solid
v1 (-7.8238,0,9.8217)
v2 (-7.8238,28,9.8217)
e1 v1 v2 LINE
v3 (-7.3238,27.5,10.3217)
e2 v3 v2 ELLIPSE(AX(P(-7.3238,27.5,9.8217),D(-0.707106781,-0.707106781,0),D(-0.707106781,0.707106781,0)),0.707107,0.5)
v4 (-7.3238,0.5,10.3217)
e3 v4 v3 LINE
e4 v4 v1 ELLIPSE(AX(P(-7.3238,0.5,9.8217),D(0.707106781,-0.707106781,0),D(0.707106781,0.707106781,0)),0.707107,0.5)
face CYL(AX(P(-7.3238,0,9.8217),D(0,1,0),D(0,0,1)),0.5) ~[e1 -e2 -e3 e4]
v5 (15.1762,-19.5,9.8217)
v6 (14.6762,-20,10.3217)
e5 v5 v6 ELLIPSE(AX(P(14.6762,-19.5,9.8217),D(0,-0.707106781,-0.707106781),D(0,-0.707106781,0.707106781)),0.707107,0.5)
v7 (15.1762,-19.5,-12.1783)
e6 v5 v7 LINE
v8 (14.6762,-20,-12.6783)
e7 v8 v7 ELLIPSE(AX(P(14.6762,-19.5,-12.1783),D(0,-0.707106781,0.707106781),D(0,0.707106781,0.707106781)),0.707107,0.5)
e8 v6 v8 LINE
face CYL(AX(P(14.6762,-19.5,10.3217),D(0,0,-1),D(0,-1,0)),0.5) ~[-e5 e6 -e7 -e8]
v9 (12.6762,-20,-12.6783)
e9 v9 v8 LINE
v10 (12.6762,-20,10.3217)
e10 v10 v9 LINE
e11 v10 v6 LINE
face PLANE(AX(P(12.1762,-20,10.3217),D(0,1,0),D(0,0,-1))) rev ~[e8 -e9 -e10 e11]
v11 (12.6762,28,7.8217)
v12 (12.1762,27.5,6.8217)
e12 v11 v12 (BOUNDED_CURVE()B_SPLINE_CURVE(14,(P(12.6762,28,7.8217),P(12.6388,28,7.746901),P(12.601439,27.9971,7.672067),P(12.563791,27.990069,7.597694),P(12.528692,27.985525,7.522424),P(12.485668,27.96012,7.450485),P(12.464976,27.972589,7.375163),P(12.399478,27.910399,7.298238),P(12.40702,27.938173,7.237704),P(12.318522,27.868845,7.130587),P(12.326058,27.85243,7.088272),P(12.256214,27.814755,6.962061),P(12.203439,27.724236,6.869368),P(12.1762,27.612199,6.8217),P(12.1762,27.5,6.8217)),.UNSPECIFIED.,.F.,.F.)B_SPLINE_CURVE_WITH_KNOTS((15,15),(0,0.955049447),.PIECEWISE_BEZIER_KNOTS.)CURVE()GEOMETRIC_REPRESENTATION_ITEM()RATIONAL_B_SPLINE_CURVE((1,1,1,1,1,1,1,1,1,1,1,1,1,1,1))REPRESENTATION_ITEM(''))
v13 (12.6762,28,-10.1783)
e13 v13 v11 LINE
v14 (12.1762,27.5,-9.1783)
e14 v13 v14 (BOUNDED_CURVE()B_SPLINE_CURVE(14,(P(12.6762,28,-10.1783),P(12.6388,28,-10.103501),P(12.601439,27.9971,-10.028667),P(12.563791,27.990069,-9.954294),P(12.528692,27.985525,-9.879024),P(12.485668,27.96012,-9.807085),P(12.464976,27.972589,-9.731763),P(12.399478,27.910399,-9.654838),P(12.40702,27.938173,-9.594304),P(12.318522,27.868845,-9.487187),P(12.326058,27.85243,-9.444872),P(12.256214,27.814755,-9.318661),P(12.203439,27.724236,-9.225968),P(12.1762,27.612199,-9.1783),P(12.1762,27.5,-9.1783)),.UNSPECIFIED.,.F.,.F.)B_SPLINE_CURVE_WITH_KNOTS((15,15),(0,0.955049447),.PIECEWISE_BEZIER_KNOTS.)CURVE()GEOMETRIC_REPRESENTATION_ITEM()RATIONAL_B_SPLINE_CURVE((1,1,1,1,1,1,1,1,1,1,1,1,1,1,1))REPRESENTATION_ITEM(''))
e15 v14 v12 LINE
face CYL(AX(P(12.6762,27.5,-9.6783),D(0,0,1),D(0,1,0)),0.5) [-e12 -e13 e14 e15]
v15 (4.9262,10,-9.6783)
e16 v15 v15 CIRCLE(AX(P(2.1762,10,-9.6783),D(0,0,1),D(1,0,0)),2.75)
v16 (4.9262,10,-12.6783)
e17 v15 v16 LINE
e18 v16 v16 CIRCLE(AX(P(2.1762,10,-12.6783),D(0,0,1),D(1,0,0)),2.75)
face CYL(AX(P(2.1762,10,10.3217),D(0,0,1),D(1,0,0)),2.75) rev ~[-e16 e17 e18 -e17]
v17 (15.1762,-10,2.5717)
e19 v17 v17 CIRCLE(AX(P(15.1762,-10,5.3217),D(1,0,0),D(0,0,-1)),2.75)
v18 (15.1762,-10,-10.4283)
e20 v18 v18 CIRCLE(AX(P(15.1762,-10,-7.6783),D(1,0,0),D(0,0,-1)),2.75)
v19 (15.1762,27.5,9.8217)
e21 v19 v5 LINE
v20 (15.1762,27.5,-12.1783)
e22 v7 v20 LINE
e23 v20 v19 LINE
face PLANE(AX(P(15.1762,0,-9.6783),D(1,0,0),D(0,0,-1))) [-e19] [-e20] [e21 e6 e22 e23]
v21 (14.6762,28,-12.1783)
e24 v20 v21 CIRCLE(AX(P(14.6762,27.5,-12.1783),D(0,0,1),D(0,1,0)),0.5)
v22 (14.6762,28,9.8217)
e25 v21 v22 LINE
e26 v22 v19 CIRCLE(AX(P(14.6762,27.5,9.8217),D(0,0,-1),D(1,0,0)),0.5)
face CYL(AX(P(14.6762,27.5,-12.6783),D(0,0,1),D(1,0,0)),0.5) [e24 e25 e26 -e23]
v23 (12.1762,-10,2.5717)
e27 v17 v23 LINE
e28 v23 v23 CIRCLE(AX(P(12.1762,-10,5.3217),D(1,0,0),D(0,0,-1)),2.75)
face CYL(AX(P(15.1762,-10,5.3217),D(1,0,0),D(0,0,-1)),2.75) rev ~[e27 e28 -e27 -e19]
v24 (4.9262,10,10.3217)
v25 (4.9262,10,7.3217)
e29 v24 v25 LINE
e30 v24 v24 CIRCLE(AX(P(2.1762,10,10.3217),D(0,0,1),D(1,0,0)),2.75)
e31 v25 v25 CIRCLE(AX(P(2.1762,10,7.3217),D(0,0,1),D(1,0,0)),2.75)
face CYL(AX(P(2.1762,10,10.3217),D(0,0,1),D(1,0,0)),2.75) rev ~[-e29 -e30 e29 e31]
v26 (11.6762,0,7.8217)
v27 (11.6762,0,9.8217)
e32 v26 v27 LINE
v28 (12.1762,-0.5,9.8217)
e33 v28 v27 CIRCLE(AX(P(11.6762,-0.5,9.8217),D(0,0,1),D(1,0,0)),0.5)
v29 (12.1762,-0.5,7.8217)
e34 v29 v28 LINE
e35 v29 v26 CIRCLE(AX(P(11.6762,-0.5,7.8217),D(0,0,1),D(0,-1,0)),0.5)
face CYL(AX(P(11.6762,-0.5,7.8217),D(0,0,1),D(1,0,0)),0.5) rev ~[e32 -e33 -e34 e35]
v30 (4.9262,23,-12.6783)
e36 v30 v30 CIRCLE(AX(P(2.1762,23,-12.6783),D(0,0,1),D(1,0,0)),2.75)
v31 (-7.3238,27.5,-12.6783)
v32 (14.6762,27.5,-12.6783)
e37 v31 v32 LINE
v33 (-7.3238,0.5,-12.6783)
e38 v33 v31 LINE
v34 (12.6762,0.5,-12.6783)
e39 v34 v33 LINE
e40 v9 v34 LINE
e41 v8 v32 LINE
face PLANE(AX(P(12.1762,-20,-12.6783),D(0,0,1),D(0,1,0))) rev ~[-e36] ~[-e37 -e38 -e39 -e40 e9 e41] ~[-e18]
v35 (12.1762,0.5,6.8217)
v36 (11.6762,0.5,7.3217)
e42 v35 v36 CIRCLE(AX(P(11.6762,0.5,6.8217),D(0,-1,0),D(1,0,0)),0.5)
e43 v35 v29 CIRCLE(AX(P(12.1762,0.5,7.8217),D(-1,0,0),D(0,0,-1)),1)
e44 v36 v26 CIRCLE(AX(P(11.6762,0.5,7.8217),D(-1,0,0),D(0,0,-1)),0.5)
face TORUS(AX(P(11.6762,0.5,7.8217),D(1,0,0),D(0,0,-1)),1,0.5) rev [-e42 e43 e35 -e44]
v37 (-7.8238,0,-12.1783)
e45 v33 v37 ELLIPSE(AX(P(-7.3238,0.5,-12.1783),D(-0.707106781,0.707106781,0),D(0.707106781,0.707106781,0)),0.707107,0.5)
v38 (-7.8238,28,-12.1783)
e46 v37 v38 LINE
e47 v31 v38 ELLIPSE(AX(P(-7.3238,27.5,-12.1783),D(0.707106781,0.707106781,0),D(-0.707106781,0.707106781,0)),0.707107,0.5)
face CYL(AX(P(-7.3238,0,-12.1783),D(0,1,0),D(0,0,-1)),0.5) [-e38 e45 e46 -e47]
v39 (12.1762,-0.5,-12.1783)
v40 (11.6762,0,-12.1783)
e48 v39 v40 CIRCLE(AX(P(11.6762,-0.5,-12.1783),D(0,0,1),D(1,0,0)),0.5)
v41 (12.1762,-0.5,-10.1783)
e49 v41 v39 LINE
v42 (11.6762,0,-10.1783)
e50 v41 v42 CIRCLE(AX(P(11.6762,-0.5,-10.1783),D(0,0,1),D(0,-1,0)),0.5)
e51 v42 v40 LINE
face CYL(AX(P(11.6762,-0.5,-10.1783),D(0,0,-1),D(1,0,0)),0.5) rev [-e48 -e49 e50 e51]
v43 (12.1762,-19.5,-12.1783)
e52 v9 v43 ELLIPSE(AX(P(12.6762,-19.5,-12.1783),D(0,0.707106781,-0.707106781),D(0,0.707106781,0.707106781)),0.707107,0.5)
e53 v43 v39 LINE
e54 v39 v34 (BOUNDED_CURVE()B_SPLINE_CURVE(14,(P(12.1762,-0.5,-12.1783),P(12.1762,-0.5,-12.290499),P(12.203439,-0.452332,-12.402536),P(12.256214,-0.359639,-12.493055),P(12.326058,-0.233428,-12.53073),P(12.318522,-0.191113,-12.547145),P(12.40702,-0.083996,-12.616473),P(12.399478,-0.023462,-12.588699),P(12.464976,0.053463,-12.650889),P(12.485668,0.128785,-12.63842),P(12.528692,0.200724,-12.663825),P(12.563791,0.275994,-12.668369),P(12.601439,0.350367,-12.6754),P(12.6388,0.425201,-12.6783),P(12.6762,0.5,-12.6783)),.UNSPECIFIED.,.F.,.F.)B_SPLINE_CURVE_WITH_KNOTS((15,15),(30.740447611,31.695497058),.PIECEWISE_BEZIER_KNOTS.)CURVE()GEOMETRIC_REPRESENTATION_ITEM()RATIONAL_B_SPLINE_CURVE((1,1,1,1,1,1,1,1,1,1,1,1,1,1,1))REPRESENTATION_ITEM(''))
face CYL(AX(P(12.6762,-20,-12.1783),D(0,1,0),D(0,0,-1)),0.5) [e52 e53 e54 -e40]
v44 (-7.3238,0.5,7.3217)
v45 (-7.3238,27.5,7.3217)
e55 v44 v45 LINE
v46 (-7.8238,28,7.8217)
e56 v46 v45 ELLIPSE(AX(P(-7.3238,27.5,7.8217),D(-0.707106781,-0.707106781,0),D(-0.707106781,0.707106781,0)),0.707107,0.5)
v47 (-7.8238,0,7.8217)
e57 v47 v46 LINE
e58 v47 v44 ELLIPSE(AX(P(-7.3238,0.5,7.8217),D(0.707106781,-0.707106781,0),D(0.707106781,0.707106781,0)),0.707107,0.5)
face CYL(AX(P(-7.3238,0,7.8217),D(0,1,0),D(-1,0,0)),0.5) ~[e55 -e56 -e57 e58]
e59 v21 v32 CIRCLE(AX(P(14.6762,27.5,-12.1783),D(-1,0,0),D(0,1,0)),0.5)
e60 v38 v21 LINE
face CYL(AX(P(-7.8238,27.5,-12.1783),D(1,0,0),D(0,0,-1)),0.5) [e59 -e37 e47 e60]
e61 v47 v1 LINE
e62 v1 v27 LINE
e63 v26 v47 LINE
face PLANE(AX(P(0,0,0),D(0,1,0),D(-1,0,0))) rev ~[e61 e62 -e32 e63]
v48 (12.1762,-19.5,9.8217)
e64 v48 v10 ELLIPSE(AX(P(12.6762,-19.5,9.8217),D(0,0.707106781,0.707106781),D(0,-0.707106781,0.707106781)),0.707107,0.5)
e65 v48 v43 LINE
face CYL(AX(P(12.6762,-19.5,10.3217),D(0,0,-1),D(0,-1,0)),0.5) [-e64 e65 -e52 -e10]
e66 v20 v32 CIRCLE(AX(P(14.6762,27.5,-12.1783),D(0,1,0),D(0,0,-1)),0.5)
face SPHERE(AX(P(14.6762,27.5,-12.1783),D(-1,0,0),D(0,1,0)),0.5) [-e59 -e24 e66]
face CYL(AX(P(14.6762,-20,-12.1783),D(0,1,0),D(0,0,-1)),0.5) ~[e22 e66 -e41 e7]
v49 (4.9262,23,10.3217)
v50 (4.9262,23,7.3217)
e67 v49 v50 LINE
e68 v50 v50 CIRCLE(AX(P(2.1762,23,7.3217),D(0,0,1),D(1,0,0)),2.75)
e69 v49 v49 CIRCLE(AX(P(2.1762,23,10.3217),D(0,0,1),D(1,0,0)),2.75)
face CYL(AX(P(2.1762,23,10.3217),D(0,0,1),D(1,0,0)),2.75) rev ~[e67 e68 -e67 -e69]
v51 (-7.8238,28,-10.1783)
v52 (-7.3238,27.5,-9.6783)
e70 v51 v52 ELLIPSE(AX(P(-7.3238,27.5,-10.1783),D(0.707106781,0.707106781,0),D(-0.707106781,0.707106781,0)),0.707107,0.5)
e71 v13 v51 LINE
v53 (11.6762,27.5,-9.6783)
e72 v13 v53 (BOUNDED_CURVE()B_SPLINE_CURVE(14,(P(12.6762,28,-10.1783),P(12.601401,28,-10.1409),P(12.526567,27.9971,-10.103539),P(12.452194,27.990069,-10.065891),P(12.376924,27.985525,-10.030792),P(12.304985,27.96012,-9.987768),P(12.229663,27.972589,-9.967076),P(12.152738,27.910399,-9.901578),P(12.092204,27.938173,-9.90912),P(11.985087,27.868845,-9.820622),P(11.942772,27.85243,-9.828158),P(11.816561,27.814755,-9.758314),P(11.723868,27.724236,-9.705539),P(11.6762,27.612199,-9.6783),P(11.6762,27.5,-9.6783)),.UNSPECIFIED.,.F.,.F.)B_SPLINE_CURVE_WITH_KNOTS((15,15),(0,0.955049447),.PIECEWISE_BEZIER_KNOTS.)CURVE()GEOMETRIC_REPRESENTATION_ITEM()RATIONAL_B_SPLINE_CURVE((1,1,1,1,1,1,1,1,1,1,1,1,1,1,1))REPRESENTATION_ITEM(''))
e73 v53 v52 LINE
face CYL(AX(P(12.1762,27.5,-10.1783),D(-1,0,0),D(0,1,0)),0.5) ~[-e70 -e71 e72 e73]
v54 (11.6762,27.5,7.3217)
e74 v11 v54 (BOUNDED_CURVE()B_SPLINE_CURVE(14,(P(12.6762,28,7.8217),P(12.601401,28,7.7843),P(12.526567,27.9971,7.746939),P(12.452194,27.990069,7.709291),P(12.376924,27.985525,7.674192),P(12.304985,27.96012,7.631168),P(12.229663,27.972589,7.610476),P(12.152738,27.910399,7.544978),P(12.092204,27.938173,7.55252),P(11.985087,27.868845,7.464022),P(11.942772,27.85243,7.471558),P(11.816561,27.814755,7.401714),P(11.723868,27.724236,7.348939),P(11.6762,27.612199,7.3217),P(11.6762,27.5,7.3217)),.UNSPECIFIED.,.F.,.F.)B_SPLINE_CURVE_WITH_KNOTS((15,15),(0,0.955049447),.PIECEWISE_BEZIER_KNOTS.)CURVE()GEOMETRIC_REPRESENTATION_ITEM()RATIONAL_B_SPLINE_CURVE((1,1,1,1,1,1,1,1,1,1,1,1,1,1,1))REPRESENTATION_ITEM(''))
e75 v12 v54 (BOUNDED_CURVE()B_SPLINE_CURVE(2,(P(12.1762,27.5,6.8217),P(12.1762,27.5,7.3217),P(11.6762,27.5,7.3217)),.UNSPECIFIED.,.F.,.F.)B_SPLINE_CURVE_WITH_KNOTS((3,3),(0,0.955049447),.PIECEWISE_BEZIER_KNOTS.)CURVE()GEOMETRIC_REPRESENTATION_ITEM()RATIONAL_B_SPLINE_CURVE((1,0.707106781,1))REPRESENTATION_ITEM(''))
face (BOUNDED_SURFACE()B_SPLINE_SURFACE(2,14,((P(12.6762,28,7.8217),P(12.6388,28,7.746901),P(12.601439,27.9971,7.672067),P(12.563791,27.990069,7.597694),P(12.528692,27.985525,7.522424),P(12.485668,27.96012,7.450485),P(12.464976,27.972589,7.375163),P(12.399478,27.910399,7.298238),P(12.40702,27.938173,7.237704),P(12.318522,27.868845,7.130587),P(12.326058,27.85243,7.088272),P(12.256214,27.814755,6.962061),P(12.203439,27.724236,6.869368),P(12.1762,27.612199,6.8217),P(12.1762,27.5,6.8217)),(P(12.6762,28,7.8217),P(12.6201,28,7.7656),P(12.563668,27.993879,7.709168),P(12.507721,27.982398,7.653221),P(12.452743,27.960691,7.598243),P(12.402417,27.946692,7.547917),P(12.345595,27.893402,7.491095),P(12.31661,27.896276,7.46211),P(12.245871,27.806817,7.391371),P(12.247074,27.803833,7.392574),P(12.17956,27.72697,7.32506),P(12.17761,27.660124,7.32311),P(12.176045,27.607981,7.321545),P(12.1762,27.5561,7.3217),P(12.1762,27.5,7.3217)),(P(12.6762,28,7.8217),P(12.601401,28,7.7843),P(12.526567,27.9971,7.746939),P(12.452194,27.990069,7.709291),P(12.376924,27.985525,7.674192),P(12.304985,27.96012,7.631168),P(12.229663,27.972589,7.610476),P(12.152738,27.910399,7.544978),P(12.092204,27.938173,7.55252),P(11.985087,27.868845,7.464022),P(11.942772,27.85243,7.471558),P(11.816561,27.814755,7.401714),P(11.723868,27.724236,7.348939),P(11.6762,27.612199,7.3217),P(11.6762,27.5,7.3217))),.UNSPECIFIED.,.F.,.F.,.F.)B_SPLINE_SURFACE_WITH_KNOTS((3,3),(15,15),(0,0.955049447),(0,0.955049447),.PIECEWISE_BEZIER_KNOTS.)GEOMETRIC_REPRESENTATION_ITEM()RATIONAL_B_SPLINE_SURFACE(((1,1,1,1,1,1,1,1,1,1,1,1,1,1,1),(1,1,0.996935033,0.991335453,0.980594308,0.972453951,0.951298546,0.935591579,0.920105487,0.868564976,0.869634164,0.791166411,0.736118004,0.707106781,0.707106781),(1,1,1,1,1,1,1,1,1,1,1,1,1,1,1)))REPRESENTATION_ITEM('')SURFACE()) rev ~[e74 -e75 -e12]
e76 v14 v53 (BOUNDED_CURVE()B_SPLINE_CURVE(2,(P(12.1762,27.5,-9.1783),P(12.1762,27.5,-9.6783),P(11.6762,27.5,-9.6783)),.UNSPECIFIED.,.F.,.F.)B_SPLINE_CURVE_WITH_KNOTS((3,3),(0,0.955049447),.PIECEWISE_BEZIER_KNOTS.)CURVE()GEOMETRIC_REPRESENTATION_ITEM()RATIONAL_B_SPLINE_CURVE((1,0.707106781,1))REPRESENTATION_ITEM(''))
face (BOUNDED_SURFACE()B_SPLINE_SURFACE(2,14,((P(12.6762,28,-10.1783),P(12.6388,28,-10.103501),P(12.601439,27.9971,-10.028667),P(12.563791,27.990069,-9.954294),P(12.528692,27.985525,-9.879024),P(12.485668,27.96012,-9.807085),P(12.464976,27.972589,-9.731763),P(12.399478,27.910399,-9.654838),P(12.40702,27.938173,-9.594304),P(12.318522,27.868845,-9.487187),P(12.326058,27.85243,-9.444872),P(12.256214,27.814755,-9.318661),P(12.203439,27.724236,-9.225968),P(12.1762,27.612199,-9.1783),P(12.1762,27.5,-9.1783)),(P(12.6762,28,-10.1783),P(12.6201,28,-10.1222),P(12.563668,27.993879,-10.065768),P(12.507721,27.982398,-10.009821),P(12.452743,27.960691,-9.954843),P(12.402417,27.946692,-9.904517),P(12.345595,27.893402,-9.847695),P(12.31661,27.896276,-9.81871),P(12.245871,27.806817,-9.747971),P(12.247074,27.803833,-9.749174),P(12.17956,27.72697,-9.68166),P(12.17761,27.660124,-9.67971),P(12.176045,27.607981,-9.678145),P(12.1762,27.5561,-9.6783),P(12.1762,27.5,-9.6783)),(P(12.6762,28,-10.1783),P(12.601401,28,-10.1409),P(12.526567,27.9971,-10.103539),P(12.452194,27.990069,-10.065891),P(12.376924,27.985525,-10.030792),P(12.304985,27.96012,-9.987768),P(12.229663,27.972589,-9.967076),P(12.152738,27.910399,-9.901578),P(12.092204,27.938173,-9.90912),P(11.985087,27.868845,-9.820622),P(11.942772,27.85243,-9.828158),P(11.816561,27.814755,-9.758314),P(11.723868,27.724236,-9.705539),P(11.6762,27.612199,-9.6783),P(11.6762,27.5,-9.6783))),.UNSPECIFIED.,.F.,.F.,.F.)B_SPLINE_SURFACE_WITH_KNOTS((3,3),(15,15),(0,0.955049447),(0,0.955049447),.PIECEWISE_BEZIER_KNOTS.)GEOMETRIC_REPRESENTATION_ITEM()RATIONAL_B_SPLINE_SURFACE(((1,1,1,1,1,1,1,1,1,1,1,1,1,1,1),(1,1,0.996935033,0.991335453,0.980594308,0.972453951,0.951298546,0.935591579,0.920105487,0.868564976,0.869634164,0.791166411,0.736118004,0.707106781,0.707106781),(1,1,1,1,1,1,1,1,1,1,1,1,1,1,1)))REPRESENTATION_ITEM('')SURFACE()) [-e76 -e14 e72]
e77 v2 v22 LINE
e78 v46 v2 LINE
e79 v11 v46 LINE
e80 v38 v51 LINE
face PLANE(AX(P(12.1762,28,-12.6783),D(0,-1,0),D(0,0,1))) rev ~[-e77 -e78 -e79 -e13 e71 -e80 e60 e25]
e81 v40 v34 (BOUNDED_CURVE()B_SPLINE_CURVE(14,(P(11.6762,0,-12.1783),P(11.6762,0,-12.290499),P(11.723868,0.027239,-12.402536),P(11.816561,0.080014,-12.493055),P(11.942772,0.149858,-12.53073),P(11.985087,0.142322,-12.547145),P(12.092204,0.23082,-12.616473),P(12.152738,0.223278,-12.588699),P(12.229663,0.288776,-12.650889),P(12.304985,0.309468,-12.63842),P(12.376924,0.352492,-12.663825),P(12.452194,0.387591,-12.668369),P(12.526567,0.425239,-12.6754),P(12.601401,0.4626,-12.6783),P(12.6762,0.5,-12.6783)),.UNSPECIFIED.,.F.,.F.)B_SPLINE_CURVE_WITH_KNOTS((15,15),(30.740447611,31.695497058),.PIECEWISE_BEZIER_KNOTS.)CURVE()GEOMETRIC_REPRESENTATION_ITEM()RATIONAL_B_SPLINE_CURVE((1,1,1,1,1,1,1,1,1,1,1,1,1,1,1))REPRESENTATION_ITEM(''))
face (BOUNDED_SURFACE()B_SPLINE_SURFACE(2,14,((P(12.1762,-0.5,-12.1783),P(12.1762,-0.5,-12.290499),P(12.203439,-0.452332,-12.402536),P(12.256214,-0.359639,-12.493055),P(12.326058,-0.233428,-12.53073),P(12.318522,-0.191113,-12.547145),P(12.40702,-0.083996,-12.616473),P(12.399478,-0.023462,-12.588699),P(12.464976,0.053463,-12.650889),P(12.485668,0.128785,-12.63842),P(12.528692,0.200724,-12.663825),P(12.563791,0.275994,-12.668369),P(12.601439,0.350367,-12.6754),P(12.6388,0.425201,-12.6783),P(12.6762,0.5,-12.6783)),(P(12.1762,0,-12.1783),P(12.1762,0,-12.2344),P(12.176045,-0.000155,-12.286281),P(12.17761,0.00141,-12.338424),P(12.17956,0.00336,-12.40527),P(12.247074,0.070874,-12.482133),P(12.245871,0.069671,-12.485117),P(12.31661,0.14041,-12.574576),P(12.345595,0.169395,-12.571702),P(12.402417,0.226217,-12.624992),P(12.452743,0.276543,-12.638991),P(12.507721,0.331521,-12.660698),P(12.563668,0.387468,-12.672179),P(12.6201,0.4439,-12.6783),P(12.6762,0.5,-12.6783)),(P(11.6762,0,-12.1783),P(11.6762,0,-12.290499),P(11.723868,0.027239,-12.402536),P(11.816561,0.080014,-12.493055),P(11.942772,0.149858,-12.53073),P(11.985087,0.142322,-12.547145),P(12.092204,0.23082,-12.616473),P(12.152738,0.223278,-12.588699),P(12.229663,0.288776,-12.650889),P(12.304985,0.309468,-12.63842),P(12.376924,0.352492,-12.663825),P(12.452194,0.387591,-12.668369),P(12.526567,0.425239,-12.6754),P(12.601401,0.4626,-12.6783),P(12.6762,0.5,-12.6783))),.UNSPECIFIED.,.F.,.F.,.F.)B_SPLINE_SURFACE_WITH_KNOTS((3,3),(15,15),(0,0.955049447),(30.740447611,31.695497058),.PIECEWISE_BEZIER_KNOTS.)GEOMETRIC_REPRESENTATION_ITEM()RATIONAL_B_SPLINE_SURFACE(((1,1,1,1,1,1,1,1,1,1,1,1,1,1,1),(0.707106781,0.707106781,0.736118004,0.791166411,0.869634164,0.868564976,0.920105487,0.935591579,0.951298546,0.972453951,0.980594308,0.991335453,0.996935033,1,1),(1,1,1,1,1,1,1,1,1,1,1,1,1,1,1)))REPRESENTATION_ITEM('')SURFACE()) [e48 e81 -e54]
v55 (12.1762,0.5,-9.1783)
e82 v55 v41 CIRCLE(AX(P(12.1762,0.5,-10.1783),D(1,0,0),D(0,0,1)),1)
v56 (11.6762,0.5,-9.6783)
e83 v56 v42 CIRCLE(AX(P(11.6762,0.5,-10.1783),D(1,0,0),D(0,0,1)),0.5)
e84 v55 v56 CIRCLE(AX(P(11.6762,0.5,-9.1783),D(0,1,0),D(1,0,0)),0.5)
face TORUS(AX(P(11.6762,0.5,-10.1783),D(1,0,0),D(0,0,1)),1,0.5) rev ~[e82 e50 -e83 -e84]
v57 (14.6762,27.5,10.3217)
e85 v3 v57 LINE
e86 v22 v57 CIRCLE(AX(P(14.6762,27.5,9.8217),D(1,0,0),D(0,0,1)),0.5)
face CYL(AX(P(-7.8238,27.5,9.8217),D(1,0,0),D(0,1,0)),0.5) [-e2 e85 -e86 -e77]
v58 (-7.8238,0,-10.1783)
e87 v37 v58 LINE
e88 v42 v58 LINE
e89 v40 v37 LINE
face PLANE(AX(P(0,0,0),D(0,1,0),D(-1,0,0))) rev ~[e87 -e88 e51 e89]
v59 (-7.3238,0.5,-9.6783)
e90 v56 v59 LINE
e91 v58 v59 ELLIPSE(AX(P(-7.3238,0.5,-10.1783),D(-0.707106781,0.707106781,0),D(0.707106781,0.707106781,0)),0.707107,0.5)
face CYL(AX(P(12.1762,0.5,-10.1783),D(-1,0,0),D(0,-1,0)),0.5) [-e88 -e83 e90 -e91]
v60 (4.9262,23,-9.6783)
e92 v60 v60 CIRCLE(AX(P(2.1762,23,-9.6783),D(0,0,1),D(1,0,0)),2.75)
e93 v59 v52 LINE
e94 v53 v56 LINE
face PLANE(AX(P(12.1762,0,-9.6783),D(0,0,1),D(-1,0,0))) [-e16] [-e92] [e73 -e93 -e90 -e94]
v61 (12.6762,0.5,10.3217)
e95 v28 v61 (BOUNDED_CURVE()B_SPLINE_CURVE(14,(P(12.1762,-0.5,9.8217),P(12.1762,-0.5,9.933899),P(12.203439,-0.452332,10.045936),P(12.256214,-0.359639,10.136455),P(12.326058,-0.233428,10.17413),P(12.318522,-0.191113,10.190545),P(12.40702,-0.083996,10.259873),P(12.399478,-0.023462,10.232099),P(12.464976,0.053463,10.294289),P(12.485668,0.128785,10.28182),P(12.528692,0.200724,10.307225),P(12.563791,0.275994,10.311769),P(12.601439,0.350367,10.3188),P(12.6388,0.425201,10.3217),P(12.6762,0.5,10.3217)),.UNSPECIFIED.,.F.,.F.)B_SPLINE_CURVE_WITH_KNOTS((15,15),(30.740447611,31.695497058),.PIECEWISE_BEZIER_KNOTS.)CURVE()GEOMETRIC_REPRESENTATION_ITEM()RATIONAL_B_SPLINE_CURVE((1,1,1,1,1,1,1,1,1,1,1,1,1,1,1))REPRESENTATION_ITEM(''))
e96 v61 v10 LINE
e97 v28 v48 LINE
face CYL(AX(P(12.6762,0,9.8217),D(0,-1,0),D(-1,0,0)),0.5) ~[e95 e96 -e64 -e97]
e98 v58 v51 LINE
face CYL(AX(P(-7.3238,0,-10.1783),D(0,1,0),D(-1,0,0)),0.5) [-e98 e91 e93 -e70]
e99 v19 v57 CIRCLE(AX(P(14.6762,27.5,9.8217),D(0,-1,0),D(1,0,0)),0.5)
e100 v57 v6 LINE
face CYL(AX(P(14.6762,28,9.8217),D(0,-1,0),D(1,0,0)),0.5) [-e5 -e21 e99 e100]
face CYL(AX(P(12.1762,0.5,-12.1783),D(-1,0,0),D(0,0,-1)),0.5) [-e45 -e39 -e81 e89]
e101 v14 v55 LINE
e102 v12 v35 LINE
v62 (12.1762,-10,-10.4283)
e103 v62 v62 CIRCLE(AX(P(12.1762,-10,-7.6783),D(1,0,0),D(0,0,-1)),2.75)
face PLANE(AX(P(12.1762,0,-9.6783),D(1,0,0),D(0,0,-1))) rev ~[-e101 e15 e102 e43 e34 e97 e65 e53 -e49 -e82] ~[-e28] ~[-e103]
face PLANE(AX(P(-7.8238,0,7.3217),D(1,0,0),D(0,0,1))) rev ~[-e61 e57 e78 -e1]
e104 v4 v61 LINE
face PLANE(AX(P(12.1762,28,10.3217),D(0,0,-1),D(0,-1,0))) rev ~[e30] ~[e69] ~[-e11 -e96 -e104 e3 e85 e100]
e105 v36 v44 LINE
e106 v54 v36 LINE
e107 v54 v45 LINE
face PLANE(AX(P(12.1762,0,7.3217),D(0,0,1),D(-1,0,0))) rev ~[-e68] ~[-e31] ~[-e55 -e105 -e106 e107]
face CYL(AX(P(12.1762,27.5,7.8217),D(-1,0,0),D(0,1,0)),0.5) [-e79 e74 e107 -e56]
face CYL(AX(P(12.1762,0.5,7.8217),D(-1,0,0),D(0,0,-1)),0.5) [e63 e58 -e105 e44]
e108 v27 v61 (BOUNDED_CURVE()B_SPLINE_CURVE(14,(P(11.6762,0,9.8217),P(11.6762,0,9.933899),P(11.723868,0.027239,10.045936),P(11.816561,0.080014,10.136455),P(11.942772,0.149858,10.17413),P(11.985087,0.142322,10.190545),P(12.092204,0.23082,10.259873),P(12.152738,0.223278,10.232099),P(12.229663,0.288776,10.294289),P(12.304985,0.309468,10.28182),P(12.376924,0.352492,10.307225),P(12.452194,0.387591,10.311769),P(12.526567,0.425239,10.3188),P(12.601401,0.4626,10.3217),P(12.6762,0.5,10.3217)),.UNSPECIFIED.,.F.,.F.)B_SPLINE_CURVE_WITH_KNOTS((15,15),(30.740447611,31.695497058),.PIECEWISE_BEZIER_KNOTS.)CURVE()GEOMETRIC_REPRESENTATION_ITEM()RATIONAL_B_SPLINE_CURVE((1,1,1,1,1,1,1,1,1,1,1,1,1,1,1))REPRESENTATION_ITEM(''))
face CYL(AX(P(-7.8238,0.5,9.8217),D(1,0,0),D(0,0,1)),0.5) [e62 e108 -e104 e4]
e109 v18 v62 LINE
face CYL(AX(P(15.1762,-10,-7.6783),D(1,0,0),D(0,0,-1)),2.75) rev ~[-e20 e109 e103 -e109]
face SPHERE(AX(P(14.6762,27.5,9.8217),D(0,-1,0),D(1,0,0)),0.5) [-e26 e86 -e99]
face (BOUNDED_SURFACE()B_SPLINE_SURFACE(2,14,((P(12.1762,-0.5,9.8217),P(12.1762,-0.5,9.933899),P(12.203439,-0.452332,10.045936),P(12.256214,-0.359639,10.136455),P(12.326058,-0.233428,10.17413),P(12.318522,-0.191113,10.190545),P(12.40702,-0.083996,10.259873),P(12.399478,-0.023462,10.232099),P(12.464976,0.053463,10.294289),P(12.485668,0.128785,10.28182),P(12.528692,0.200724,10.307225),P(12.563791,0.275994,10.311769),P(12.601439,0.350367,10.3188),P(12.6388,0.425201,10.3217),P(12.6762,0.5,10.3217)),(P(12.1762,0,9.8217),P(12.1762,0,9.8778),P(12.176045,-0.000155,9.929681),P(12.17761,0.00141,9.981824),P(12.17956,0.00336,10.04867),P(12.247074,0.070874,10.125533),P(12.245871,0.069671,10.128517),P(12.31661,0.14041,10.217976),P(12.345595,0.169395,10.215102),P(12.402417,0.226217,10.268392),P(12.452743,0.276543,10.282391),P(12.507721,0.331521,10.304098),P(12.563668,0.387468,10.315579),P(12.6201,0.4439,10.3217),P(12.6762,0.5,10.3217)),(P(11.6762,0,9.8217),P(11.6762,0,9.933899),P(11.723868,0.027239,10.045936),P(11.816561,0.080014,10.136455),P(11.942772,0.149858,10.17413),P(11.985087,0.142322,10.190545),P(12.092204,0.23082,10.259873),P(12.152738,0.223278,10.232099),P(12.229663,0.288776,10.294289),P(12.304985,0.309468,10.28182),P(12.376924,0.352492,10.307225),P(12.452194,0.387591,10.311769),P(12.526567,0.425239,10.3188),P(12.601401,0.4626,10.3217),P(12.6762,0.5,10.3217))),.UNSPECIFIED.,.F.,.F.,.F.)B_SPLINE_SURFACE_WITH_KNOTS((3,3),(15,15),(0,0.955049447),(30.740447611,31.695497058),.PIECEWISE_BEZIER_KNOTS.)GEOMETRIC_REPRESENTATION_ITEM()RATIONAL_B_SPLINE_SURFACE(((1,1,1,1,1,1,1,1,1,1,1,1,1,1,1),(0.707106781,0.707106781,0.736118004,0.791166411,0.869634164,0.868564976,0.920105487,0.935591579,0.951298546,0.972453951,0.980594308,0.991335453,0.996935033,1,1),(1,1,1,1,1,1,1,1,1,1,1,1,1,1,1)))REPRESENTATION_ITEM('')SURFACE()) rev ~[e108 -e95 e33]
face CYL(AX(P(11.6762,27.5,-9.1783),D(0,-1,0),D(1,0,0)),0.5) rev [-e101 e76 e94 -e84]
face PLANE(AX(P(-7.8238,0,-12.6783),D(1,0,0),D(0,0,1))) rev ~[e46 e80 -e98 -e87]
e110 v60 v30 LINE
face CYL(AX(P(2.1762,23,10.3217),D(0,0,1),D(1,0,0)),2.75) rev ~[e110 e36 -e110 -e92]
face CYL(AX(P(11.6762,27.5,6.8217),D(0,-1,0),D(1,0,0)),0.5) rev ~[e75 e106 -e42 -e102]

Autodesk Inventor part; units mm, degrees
ref_plane "YZ Plane" through (0, 0, 0) normal (1, 0, 0) x (0, 1, 0)
ref_plane "XZ Plane" through (0, 0, 0) normal (0, 1, 0) x (-1, 0, 0)
ref_plane "XY Plane" through (0, 0, 0) normal (0, 0, 1) x (1, 0, 0)
sketch "Sketch1" plane through (0, 0, 0) normal (0, 1, 0) x (-1, 0, 0)
  line L0 (7.8238, 10.3217) -> (-12.1762, 10.3217)
  line L1 (-12.1762, 10.3217) -> (-12.1762, -12.6783)
  line L2 (-12.1762, -12.6783) -> (7.8238, -12.6783)
  line L3 (7.8238, -12.6783) -> (7.8238, 10.3217)
  line L4 (7.8238, 10.3217) -> (-12.1762, 10.3217)
  line L5 (-12.1762, 10.3217) -> (-12.1762, 7.3217)
  line L6 (-12.1762, 7.3217) -> (7.8238, 7.3217)
  line L7 (7.8238, 7.3217) -> (7.8238, 10.3217)
  line L8 (7.8238, -12.6783) -> (-12.1762, -12.6783)
  line L9 (-12.1762, -12.6783) -> (-12.1762, -9.6783)
  line L10 (-12.1762, -9.6783) -> (7.8238, -9.6783)
  line L11 (7.8238, -9.6783) -> (7.8238, -12.6783)
  point P0 (0, 0)
  dimension "d0" = 23
  dimension "d1" = 20
  dimension "d2" = 3
  dimension "d3" = 3
extrude "Extrusion1" add sketch "Sketch1" along normal blind 28 contours L3 L6 L1 L0 | L3 L2 L1 L10
sketch "Sketch2" plane through (-7.8238, 0, 10.3217) normal (0, 0, 1) x (1, 0, 0)
  circle A0 centre (10, 10) radius 2.75
  circle A1 centre (10, 23) radius 2.75
  line L0 (0, 0) -> (20, 0) projected
  line L1 (0, 28) -> (20, 28) projected
  line L2 (0, 0) -> (0, 28) projected
  point P0 (7.8238, 0)
  dimension "d6" = 5.5
  dimension "d7" = 5.5
  dimension "d8" = 10
  dimension "d9" = 5
  dimension "d10" = 10
extrude "Extrusion2" cut sketch "Sketch2" against normal through all
sketch "Sketch3" plane through (12.1762, 0, -9.6783) normal (1, 0, 0) x (0, 0, -1)
  line L0 (3, 28) -> (-20, 28)
  line L1 (-20, 28) -> (-20, -20)
  line L2 (-20, -20) -> (3, -20)
  line L3 (3, -20) -> (3, 28)
  point P0 (-9.6783, 0)
  dimension "d13" = 48
extrude "Extrusion3" add sketch "Sketch3" along normal blind 3
sketch "Sketch4" plane through (15.1762, 0, -9.6783) normal (1, 0, 0) x (0, 0, -1)
  circle A0 centre (-15, -10) radius 2.75
  line L0 (-20, -20) -> (3, -20) projected
  line L1 (-20, 28) -> (-20, -20) projected
  circle A1 centre (-2, -10) radius 2.75
  line L2 (3, -20) -> (3, 28) projected
  point P0 (-9.6783, 0)
  dimension "d16" = 5.5
  dimension "d17" = 10
  dimension "d18" = 5
  dimension "d21" = 13
  dimension "d26" = 5
extrude "Extrusion4" cut sketch "Sketch4" against normal blind 3
fillet "Fillet1" radius 0.5 3 edges at (12.1762, -10, 10.3217) (15.1762, 4, 10.3217) (-7.8238, 14, 10.3217)
fillet "Fillet1" radius 0.5 17 edges at (-7.8238, 14, 7.3217) (-7.8238, 14, -9.6783) (-7.8238, 14, -12.6783) (2.1762, 28, 7.3217) (12.1762, 28, -1.1783) (2.1762, 28, -9.6783) (3.6762, 28, -12.6783) (15.1762, 28, -1.1783) (3.6762, 28, 10.3217) (12.1762, -10, -12.6783) (15.1762, 4, -12.6783) (12.1762, -20, -1.1783) (15.1762, -20, -1.1783) (2.1762, 0, 7.3217) (2.1762, 0, 10.3217) (2.1762, 0, -9.6783) (2.1762, 0, -12.6783)
fillet "Fillet2" radius 0.5 10 edges at (12.3227, 27.8536, 7.4682) (12.1762, 0.1464, 7.4682) (12.1762, 0, 8.8217) (12.3227, 0.1464, 10.1753) (12.1762, 14, 7.3217) (12.3227, 27.8536, -9.8247) (12.1762, 0.1464, -9.8247) (12.1762, 0, -11.1783) (12.3227, 0.1464, -12.5318) (12.1762, 14, -9.6783)
properties part number "bottom printhead screwplate_250221"
